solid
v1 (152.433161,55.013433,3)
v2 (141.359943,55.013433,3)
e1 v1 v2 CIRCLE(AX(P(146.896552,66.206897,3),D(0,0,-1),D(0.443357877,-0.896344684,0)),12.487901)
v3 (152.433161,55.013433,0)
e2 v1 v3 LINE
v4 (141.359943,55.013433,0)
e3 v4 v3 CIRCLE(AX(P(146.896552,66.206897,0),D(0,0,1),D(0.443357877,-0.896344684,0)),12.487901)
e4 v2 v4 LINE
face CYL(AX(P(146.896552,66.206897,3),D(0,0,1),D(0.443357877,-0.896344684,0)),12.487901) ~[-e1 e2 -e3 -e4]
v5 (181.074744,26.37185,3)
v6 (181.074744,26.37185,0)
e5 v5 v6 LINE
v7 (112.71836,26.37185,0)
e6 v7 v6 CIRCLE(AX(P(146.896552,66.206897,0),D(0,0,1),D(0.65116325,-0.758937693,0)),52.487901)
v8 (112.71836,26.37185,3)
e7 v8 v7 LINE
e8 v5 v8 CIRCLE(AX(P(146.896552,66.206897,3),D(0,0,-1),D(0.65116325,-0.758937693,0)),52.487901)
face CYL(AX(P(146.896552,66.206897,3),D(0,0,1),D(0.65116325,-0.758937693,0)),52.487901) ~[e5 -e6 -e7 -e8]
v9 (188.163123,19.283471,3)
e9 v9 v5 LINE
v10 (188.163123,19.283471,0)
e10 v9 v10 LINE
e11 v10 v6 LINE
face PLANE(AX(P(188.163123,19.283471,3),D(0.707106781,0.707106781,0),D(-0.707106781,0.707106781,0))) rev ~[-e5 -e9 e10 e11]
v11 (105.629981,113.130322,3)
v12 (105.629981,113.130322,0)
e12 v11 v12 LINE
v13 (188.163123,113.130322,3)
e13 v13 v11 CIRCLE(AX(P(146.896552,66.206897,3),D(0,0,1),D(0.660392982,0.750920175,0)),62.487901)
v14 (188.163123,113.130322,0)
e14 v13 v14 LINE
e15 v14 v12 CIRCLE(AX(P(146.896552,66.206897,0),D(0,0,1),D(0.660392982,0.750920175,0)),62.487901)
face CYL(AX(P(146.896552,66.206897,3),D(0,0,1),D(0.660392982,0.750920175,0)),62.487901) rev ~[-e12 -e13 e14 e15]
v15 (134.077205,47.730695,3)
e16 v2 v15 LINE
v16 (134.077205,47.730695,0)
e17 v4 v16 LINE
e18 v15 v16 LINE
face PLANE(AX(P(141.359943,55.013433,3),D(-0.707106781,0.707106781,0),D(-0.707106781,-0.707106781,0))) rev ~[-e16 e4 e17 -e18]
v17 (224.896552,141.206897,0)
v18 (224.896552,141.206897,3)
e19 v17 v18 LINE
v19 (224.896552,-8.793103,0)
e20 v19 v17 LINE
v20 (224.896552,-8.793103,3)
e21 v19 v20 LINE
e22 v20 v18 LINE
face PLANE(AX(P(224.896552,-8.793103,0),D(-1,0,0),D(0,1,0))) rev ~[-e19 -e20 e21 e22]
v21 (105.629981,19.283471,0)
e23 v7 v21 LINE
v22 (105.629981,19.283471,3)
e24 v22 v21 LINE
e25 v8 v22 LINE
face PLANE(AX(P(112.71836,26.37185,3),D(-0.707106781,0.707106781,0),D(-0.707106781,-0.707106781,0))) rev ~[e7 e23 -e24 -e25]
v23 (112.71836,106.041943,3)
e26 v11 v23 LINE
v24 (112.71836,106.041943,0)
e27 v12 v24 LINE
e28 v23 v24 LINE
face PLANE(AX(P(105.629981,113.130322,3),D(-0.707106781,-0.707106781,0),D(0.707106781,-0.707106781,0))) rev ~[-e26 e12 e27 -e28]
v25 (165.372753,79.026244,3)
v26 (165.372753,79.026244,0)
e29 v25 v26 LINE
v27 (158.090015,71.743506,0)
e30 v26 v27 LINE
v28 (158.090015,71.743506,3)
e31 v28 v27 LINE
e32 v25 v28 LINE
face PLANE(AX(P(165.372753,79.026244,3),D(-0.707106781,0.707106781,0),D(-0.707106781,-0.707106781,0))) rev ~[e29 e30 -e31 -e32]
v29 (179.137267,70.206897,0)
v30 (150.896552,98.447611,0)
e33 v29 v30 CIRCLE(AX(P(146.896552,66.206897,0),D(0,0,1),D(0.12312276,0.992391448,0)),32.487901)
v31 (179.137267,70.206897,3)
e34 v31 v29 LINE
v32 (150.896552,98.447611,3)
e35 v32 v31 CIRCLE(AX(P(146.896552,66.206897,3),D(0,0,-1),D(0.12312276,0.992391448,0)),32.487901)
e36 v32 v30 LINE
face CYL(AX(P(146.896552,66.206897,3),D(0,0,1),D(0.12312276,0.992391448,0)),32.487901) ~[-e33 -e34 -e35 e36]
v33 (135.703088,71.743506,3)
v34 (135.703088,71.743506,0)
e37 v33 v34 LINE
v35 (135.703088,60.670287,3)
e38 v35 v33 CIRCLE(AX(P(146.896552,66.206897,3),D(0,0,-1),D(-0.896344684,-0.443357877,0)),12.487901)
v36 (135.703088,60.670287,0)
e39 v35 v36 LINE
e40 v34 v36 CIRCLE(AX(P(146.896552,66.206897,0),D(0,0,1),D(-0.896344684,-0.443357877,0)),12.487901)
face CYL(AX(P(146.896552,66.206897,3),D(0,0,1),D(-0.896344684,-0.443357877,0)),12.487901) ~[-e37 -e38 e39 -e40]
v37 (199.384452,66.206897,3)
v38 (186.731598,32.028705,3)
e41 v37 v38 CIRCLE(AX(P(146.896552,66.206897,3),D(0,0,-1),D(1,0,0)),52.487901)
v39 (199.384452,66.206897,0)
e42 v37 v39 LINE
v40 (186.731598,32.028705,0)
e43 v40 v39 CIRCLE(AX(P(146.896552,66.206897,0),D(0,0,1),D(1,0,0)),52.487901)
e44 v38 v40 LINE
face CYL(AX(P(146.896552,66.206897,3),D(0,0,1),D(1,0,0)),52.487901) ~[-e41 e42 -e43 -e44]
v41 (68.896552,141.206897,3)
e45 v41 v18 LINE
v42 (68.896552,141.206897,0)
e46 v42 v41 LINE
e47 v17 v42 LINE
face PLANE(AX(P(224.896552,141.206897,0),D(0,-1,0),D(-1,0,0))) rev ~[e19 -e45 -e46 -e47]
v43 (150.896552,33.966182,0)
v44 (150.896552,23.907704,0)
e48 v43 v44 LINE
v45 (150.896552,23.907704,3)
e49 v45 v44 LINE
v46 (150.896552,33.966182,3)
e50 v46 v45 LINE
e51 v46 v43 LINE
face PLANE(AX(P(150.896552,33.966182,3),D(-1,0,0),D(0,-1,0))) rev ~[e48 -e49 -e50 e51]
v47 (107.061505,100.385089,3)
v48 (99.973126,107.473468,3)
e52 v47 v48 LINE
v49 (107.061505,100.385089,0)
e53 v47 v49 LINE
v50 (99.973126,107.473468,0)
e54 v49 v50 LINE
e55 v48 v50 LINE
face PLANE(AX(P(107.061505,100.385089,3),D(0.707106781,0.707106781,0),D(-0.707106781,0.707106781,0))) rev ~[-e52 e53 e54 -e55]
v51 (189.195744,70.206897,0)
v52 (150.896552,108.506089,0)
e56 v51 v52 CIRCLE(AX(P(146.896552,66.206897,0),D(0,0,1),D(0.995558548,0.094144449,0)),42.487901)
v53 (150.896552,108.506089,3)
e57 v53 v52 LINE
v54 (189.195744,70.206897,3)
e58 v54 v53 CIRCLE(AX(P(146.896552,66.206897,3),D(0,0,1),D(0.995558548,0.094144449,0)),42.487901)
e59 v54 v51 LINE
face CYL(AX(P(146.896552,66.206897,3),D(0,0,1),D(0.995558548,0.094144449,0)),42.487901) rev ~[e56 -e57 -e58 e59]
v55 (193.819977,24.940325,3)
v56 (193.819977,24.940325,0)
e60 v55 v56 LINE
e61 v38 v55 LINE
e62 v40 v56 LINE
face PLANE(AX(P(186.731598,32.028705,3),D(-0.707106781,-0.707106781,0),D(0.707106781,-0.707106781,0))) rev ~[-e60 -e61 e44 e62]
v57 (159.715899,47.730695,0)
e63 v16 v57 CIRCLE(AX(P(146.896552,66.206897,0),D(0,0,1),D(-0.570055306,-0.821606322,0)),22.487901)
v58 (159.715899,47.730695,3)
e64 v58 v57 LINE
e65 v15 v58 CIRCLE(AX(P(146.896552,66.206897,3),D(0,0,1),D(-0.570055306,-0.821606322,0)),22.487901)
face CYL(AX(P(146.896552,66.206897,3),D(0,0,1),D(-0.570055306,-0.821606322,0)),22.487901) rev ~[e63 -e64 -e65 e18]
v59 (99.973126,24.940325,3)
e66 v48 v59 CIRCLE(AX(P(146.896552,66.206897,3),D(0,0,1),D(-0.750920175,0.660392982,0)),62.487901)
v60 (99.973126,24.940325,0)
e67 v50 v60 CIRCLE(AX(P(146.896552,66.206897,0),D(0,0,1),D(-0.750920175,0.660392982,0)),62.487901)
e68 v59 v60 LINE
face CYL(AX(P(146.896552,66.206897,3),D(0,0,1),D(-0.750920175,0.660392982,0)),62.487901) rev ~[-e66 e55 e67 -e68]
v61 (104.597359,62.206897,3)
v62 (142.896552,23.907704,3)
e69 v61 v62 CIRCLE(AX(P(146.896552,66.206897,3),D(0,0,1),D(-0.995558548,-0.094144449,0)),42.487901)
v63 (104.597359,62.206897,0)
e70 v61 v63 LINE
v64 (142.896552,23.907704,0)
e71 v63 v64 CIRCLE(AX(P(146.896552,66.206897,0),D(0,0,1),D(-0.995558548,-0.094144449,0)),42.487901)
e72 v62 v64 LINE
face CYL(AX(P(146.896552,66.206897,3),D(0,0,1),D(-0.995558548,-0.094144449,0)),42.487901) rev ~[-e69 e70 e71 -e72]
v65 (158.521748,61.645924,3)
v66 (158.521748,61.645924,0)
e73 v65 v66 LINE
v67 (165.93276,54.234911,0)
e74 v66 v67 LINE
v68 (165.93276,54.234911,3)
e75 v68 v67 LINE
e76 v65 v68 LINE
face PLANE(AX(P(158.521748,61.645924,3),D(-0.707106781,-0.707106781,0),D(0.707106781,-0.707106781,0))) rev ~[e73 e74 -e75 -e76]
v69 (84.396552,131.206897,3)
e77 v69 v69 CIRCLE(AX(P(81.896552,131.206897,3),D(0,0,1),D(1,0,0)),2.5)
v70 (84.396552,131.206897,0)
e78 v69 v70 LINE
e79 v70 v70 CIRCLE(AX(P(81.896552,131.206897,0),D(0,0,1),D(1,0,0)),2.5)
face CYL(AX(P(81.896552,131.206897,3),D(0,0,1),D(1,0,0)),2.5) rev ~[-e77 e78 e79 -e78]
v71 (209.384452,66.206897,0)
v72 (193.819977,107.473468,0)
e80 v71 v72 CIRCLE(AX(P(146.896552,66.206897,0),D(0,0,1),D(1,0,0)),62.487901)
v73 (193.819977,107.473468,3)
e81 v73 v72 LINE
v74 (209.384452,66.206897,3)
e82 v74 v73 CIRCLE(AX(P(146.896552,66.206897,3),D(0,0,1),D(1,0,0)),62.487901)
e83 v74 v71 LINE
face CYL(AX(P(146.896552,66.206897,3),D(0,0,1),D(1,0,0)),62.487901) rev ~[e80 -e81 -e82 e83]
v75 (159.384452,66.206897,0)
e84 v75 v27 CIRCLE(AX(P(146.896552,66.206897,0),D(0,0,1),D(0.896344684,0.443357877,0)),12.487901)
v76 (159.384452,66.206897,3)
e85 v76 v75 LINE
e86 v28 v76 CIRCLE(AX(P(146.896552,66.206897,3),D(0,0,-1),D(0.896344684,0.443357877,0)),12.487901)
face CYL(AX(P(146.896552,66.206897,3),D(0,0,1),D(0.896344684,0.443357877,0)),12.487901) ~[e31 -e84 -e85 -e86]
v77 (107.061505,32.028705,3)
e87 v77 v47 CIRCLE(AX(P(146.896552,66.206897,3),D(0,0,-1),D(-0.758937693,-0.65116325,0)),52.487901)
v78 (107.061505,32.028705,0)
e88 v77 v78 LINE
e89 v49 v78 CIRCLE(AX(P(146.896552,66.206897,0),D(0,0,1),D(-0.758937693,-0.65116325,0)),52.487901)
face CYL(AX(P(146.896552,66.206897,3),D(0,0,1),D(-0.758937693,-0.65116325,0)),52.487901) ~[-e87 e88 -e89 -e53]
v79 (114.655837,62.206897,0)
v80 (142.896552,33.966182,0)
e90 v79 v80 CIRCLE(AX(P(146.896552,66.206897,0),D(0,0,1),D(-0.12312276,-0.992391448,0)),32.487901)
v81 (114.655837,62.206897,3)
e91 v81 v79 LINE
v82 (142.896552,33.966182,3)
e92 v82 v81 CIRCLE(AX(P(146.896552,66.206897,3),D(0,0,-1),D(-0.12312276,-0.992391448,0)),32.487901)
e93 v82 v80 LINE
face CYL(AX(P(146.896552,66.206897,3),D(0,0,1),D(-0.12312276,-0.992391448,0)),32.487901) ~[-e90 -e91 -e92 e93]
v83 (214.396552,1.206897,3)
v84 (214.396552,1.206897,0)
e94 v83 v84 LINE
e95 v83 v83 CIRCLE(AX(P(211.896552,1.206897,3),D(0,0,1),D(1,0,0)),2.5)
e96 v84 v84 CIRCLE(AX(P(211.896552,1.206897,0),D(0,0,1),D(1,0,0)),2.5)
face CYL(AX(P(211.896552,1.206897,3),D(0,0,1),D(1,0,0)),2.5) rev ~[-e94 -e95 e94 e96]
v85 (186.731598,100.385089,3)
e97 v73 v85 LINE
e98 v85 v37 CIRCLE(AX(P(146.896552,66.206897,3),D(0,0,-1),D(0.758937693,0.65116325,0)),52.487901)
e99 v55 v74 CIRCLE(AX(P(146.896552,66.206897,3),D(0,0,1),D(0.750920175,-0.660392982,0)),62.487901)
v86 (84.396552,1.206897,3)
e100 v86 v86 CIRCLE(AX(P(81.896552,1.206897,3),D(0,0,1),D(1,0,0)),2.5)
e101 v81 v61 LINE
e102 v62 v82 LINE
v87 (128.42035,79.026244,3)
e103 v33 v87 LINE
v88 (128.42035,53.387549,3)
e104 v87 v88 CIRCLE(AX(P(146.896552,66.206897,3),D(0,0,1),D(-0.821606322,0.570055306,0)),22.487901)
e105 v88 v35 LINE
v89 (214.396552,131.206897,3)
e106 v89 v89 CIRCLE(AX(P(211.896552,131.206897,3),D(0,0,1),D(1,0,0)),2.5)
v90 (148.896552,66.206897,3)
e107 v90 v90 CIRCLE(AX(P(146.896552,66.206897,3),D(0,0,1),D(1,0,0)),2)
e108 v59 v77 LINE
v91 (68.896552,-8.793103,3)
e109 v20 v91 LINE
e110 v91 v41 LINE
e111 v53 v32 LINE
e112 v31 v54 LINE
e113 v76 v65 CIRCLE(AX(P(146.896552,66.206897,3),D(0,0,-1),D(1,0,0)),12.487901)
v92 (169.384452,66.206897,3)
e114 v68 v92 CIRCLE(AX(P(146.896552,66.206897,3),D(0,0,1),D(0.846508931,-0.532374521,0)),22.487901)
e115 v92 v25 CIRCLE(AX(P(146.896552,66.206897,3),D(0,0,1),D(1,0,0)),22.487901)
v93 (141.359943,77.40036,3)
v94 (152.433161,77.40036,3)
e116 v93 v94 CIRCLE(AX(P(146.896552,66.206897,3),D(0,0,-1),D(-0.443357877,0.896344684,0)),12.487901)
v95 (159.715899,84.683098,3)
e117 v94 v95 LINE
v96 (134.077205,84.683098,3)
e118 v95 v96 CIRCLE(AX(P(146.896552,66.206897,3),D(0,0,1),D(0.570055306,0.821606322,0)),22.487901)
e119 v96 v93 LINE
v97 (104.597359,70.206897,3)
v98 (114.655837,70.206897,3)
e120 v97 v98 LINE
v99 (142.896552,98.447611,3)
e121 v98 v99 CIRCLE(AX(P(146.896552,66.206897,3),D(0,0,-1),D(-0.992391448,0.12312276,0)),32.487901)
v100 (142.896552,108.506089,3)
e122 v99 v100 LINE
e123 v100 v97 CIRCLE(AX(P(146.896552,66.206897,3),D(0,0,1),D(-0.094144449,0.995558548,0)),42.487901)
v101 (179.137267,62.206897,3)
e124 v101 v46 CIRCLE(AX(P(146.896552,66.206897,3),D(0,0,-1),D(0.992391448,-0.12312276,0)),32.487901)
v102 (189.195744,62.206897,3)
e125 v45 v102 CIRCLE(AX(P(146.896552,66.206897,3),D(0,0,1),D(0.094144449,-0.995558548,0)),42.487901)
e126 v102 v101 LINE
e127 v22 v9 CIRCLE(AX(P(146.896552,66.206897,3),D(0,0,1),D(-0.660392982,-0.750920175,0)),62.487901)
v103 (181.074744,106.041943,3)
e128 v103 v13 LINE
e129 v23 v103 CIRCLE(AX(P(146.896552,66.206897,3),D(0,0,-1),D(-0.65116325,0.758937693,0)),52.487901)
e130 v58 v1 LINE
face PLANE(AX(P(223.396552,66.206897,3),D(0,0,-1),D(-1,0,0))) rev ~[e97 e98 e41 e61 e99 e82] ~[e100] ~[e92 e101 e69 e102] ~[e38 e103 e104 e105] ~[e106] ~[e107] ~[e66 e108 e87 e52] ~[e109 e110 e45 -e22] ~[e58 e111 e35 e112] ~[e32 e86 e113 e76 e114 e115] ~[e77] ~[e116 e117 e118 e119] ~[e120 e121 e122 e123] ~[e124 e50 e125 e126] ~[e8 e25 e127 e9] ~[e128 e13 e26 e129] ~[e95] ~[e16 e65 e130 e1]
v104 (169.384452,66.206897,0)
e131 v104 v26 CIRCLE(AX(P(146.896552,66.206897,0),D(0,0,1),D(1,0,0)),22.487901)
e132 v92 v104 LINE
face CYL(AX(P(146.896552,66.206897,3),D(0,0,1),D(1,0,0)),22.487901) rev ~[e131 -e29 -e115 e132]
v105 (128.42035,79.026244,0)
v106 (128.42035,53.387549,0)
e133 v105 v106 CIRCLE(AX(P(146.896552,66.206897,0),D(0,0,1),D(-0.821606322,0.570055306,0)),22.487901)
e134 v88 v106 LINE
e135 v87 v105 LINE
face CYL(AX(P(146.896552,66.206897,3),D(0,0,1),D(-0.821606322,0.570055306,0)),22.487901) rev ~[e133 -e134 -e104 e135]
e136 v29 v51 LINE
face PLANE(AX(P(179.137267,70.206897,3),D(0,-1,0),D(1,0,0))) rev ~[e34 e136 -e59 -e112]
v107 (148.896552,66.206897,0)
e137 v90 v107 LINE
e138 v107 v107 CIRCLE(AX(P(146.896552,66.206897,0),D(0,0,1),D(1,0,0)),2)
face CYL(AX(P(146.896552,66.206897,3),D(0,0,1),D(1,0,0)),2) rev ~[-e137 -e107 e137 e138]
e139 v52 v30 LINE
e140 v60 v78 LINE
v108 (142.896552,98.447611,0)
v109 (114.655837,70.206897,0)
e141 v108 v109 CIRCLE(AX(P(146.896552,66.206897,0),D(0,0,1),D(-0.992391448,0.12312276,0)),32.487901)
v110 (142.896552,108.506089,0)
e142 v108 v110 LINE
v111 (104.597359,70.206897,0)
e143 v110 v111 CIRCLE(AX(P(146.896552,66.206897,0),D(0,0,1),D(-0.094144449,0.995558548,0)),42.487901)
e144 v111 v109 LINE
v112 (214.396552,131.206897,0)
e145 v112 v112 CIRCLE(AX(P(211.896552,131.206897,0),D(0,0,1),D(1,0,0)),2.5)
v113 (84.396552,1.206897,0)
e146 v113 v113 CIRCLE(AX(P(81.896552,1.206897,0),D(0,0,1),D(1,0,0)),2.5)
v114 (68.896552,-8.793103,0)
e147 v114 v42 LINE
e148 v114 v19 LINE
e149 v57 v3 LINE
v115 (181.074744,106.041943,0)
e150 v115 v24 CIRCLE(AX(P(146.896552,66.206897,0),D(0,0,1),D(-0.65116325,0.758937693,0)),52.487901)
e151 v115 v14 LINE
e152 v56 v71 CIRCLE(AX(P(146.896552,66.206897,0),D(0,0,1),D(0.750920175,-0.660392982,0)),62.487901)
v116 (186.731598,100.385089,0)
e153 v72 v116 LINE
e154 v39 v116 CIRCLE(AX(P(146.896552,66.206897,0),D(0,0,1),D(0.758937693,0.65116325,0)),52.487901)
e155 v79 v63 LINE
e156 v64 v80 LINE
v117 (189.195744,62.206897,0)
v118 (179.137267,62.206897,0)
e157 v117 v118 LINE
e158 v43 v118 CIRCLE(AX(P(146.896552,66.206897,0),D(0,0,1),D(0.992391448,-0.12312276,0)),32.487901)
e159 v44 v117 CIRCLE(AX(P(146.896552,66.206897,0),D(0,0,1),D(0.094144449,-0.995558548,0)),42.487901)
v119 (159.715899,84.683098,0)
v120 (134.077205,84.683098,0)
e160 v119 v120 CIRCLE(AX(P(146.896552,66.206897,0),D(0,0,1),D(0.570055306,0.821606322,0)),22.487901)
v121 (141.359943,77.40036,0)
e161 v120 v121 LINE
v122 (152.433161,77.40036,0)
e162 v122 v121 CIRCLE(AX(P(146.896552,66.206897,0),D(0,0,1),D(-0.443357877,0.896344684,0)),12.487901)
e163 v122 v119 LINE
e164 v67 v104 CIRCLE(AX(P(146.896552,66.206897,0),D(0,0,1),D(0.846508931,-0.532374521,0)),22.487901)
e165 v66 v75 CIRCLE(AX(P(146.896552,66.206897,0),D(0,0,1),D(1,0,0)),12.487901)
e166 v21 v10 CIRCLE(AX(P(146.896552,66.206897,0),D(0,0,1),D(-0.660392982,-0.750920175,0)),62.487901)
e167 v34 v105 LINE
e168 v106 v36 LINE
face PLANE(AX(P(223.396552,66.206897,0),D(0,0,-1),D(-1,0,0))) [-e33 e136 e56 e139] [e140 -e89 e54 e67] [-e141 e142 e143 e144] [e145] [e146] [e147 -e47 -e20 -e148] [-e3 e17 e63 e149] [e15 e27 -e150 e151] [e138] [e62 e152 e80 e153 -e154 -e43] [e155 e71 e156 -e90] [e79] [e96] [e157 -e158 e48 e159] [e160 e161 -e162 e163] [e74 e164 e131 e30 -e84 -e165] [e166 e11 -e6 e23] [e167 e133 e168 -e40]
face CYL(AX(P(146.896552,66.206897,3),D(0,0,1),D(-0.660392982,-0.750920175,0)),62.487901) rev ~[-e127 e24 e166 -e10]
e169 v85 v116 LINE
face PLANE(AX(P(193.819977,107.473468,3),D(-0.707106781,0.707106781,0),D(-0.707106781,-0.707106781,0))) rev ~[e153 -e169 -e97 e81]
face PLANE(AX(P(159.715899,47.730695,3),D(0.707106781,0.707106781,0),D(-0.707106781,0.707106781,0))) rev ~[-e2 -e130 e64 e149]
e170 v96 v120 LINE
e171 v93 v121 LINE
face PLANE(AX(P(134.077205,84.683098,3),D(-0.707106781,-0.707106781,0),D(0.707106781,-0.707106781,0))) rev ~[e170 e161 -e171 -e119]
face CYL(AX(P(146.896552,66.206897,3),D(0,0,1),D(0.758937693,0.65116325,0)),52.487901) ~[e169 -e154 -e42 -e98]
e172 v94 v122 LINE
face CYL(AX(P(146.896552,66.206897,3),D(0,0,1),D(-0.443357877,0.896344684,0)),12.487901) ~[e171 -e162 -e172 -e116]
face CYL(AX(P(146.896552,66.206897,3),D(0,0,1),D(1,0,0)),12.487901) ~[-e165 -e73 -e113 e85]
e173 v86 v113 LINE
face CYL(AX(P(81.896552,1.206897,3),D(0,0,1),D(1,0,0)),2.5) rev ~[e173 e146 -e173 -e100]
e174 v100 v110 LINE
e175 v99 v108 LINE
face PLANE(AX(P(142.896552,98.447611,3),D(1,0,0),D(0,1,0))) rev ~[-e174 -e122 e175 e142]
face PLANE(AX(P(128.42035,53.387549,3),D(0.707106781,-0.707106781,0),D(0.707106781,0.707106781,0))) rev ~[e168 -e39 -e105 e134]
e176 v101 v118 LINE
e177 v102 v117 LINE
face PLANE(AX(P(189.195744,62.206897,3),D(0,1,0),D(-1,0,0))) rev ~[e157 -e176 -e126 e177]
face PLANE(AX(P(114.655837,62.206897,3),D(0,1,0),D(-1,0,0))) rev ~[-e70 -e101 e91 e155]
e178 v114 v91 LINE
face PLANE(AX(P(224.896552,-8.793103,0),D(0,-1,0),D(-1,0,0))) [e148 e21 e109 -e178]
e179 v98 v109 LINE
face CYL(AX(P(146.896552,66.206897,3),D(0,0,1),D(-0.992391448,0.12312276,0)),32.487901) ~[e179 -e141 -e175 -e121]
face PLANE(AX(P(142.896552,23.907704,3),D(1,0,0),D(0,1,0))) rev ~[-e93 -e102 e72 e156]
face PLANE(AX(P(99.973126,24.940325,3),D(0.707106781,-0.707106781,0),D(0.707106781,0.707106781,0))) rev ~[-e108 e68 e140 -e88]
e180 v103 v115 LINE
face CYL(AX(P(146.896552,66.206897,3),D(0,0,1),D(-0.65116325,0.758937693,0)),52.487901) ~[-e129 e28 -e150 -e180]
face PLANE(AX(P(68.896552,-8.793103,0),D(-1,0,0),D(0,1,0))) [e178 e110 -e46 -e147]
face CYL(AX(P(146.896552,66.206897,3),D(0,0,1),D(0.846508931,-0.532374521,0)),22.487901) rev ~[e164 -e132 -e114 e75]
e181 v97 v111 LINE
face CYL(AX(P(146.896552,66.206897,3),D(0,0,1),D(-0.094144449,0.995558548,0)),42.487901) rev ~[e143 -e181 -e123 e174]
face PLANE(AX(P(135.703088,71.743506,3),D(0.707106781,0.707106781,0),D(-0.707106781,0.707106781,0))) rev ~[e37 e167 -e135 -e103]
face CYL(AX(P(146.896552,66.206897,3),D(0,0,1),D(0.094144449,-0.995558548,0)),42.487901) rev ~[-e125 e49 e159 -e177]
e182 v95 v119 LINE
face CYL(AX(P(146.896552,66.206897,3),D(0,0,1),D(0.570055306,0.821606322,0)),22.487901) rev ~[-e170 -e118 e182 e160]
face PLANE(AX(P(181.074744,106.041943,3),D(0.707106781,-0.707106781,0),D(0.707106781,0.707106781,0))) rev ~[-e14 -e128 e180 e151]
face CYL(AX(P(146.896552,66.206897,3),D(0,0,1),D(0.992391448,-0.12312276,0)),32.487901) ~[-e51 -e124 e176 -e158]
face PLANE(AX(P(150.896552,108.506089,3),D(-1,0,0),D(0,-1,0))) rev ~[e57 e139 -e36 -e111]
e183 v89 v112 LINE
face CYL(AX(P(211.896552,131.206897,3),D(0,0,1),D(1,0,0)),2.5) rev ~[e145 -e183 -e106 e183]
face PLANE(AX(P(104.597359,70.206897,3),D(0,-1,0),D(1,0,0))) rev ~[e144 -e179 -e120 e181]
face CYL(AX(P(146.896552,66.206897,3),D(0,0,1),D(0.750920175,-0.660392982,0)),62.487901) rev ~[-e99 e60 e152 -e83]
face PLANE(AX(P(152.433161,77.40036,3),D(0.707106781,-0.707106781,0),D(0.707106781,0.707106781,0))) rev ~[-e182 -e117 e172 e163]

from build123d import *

# Parameters (mm, degrees)
SKETCH1_W           = 150
SKETCH1_H           = 150
BOSS_EXTRUDE1_DEPTH = 3
CUT_EXTRUDE1_DEPTH  = 264.0332057
SKETCH4_R           = 2.5
CUT_EXTRUDE2_DEPTH  = 3
SKETCH5_W           = 3
SKETCH5_H           = 150
BOSS_EXTRUDE2_DEPTH = 3
SKETCH6_R           = 2
CUT_EXTRUDE3_DEPTH  = 10


with BuildPart() as part:
    # Sketch1 → Boss-Extrude1 (new body)
    with BuildSketch(Plane.XY):
        with Locations((146.896551724, 66.206896552)):
            Rectangle(SKETCH1_W, SKETCH1_H)
    extrude(amount=BOSS_EXTRUDE1_DEPTH)

    # Sketch2 → Cut-Extrude1 (cut, through all)
    with BuildSketch(Plane.XY.offset(3)):
        with BuildLine():
            ThreePointArc((188.163122783, 113.13032186), (146.896551724, 128.694797217), (105.629980666, 113.13032186))
            Line((105.629980666, 113.13032186), (112.718359737, 106.041942789))
            ThreePointArc((112.718359737, 106.041942789), (146.896551724, 118.694797217), (181.074743712, 106.041942789))
            Line((181.074743712, 106.041942789), (188.163122783, 113.13032186))
        make_face()
        with BuildLine():
            Line((107.061505487, 100.385088539), (99.973126416, 107.47346761))
            ThreePointArc((99.973126416, 107.47346761), (84.408651059, 66.206896552), (99.973126416, 24.940325493))
            Line((99.973126416, 24.940325493), (107.061505487, 32.028704564))
            ThreePointArc((107.061505487, 32.028704564), (94.408651059, 66.206896552), (107.061505487, 100.385088539))
        make_face()
        with BuildLine():
            ThreePointArc((209.384452389, 66.206896552), (205.363995952, 88.259009716), (193.819977032, 107.47346761))
            Line((193.819977032, 107.47346761), (186.731597961, 100.385088539))
            ThreePointArc((186.731597961, 100.385088539), (196.119705149, 84.429434333), (199.384452389, 66.206896552))
            ThreePointArc((199.384452389, 66.206896552), (196.119705149, 47.984358771), (186.731597961, 32.028704564))
            Line((186.731597961, 32.028704564), (193.819977032, 24.940325493))
            ThreePointArc((193.819977032, 24.940325493), (205.363995952, 44.154783387), (209.384452389, 66.206896552))
        make_face()
        with BuildLine():
            Line((112.718359737, 26.371850315), (105.629980666, 19.283471244))
            ThreePointArc((105.629980666, 19.283471244), (146.896551724, 3.718995886), (188.163122783, 19.283471244))
            Line((188.163122783, 19.283471244), (181.074743712, 26.371850315))
            ThreePointArc((181.074743712, 26.371850315), (146.896551724, 13.718995886), (112.718359737, 26.371850315))
        make_face()
        with BuildLine():
            ThreePointArc((150.896551724, 23.907703853), (176.940034403, 36.163413873), (189.195744423, 62.206896552))
            Line((189.195744423, 62.206896552), (179.137266506, 62.206896552))
            ThreePointArc((179.137266506, 62.206896552), (169.868966591, 43.234481685), (150.896551724, 33.96618177))
            Line((150.896551724, 33.96618177), (150.896551724, 23.907703853))
        make_face()
        with BuildLine():
            Line((114.655836942, 62.206896552), (104.597359026, 62.206896552))
            ThreePointArc((104.597359026, 62.206896552), (116.853069045, 36.163413873), (142.896551724, 23.907703853))
            Line((142.896551724, 23.907703853), (142.896551724, 33.96618177))
            ThreePointArc((142.896551724, 33.96618177), (123.924136857, 43.234481685), (114.655836942, 62.206896552))
        make_face()
        with BuildLine():
            Line((142.896551724, 98.447611333), (142.896551724, 108.50608925))
            ThreePointArc((142.896551724, 108.50608925), (116.853069045, 96.250379231), (104.597359026, 70.206896552))
            Line((104.597359026, 70.206896552), (114.655836942, 70.206896552))
            ThreePointArc((114.655836942, 70.206896552), (123.924136857, 89.179311419), (142.896551724, 98.447611333))
        make_face()
        with BuildLine():
            ThreePointArc((189.195744423, 70.206896552), (176.940034403, 96.250379231), (150.896551724, 108.50608925))
            Line((150.896551724, 108.50608925), (150.896551724, 98.447611333))
            ThreePointArc((150.896551724, 98.447611333), (169.868966591, 89.179311419), (179.137266506, 70.206896552))
            Line((179.137266506, 70.206896552), (189.195744423, 70.206896552))
        make_face()
        with BuildLine():
            Line((165.372753073, 79.026243651), (158.090015102, 71.74350568))
            ThreePointArc((158.090015102, 71.74350568), (159.056537781, 69.049853135), (159.384452389, 66.206896552))
            ThreePointArc((159.384452389, 66.206896552), (159.166880972, 63.885973637), (158.521748029, 61.645923641))
            Line((158.521748029, 61.645923641), (165.932760465, 54.234911206))
            ThreePointArc((165.932760465, 54.234911206), (168.504305512, 59.977076926), (169.384452389, 66.206896552))
            ThreePointArc((169.384452389, 66.206896552), (168.358106385, 72.923096956), (165.372753073, 79.026243651))
        make_face()
        with BuildLine():
            Line((134.077204625, 84.6830979), (141.359942596, 77.400359929))
            ThreePointArc((141.359942596, 77.400359929), (146.896551724, 78.694797217), (152.433160852, 77.400359929))
            Line((152.433160852, 77.400359929), (159.715898823, 84.6830979))
            ThreePointArc((159.715898823, 84.6830979), (146.896551724, 88.694797217), (134.077204625, 84.6830979))
        make_face()
        with BuildLine():
            ThreePointArc((135.703088346, 60.670287424), (134.408651059, 66.206896552), (135.703088346, 71.74350568))
            Line((135.703088346, 71.74350568), (128.420350375, 79.026243651))
            ThreePointArc((128.420350375, 79.026243651), (124.408651059, 66.206896552), (128.420350375, 53.387549452))
            Line((128.420350375, 53.387549452), (135.703088346, 60.670287424))
        make_face()
        with BuildLine():
            ThreePointArc((152.433160852, 55.013433174), (146.896551724, 53.718995886), (141.359942596, 55.013433174))
            Line((141.359942596, 55.013433174), (134.077204625, 47.730695203))
            ThreePointArc((134.077204625, 47.730695203), (146.896551724, 43.718995886), (159.715898823, 47.730695203))
            Line((159.715898823, 47.730695203), (152.433160852, 55.013433174))
        make_face()
    extrude(amount=-CUT_EXTRUDE1_DEPTH, mode=Mode.SUBTRACT)

    # Sketch4 → Cut-Extrude2 (cut)
    with BuildSketch(Plane.XY.offset(3)):
        with Locations((81.896551724, 131.206896552)):
            Circle(SKETCH4_R)
        with Locations((211.896551724, 131.206896552)):
            Circle(SKETCH4_R)
        with Locations((211.896551724, 1.206896552)):
            Circle(SKETCH4_R)
        with Locations((81.896551724, 1.206896552)):
            Circle(SKETCH4_R)
    extrude(amount=-CUT_EXTRUDE2_DEPTH, mode=Mode.SUBTRACT)

    # Sketch5 → Boss-Extrude2 (add)
    with BuildSketch(Plane(origin=(0, 0, 0), x_dir=(-1, 0, 0), z_dir=(0, 0, -1))):
        with Locations((-223.396551724, 66.206896552)):
            Rectangle(SKETCH5_W, SKETCH5_H)
        with Locations((-70.396551724, 66.206896552)):
            Rectangle(SKETCH5_W, SKETCH5_H)
    extrude(amount=-BOSS_EXTRUDE2_DEPTH)

    # Sketch6 → Cut-Extrude3 (cut)
    with BuildSketch(Plane.XY.offset(3)):
        with Locations((146.896551724, 66.206896552)):
            Circle(SKETCH6_R)
    extrude(amount=-CUT_EXTRUDE3_DEPTH, mode=Mode.SUBTRACT)


solid = part.part
